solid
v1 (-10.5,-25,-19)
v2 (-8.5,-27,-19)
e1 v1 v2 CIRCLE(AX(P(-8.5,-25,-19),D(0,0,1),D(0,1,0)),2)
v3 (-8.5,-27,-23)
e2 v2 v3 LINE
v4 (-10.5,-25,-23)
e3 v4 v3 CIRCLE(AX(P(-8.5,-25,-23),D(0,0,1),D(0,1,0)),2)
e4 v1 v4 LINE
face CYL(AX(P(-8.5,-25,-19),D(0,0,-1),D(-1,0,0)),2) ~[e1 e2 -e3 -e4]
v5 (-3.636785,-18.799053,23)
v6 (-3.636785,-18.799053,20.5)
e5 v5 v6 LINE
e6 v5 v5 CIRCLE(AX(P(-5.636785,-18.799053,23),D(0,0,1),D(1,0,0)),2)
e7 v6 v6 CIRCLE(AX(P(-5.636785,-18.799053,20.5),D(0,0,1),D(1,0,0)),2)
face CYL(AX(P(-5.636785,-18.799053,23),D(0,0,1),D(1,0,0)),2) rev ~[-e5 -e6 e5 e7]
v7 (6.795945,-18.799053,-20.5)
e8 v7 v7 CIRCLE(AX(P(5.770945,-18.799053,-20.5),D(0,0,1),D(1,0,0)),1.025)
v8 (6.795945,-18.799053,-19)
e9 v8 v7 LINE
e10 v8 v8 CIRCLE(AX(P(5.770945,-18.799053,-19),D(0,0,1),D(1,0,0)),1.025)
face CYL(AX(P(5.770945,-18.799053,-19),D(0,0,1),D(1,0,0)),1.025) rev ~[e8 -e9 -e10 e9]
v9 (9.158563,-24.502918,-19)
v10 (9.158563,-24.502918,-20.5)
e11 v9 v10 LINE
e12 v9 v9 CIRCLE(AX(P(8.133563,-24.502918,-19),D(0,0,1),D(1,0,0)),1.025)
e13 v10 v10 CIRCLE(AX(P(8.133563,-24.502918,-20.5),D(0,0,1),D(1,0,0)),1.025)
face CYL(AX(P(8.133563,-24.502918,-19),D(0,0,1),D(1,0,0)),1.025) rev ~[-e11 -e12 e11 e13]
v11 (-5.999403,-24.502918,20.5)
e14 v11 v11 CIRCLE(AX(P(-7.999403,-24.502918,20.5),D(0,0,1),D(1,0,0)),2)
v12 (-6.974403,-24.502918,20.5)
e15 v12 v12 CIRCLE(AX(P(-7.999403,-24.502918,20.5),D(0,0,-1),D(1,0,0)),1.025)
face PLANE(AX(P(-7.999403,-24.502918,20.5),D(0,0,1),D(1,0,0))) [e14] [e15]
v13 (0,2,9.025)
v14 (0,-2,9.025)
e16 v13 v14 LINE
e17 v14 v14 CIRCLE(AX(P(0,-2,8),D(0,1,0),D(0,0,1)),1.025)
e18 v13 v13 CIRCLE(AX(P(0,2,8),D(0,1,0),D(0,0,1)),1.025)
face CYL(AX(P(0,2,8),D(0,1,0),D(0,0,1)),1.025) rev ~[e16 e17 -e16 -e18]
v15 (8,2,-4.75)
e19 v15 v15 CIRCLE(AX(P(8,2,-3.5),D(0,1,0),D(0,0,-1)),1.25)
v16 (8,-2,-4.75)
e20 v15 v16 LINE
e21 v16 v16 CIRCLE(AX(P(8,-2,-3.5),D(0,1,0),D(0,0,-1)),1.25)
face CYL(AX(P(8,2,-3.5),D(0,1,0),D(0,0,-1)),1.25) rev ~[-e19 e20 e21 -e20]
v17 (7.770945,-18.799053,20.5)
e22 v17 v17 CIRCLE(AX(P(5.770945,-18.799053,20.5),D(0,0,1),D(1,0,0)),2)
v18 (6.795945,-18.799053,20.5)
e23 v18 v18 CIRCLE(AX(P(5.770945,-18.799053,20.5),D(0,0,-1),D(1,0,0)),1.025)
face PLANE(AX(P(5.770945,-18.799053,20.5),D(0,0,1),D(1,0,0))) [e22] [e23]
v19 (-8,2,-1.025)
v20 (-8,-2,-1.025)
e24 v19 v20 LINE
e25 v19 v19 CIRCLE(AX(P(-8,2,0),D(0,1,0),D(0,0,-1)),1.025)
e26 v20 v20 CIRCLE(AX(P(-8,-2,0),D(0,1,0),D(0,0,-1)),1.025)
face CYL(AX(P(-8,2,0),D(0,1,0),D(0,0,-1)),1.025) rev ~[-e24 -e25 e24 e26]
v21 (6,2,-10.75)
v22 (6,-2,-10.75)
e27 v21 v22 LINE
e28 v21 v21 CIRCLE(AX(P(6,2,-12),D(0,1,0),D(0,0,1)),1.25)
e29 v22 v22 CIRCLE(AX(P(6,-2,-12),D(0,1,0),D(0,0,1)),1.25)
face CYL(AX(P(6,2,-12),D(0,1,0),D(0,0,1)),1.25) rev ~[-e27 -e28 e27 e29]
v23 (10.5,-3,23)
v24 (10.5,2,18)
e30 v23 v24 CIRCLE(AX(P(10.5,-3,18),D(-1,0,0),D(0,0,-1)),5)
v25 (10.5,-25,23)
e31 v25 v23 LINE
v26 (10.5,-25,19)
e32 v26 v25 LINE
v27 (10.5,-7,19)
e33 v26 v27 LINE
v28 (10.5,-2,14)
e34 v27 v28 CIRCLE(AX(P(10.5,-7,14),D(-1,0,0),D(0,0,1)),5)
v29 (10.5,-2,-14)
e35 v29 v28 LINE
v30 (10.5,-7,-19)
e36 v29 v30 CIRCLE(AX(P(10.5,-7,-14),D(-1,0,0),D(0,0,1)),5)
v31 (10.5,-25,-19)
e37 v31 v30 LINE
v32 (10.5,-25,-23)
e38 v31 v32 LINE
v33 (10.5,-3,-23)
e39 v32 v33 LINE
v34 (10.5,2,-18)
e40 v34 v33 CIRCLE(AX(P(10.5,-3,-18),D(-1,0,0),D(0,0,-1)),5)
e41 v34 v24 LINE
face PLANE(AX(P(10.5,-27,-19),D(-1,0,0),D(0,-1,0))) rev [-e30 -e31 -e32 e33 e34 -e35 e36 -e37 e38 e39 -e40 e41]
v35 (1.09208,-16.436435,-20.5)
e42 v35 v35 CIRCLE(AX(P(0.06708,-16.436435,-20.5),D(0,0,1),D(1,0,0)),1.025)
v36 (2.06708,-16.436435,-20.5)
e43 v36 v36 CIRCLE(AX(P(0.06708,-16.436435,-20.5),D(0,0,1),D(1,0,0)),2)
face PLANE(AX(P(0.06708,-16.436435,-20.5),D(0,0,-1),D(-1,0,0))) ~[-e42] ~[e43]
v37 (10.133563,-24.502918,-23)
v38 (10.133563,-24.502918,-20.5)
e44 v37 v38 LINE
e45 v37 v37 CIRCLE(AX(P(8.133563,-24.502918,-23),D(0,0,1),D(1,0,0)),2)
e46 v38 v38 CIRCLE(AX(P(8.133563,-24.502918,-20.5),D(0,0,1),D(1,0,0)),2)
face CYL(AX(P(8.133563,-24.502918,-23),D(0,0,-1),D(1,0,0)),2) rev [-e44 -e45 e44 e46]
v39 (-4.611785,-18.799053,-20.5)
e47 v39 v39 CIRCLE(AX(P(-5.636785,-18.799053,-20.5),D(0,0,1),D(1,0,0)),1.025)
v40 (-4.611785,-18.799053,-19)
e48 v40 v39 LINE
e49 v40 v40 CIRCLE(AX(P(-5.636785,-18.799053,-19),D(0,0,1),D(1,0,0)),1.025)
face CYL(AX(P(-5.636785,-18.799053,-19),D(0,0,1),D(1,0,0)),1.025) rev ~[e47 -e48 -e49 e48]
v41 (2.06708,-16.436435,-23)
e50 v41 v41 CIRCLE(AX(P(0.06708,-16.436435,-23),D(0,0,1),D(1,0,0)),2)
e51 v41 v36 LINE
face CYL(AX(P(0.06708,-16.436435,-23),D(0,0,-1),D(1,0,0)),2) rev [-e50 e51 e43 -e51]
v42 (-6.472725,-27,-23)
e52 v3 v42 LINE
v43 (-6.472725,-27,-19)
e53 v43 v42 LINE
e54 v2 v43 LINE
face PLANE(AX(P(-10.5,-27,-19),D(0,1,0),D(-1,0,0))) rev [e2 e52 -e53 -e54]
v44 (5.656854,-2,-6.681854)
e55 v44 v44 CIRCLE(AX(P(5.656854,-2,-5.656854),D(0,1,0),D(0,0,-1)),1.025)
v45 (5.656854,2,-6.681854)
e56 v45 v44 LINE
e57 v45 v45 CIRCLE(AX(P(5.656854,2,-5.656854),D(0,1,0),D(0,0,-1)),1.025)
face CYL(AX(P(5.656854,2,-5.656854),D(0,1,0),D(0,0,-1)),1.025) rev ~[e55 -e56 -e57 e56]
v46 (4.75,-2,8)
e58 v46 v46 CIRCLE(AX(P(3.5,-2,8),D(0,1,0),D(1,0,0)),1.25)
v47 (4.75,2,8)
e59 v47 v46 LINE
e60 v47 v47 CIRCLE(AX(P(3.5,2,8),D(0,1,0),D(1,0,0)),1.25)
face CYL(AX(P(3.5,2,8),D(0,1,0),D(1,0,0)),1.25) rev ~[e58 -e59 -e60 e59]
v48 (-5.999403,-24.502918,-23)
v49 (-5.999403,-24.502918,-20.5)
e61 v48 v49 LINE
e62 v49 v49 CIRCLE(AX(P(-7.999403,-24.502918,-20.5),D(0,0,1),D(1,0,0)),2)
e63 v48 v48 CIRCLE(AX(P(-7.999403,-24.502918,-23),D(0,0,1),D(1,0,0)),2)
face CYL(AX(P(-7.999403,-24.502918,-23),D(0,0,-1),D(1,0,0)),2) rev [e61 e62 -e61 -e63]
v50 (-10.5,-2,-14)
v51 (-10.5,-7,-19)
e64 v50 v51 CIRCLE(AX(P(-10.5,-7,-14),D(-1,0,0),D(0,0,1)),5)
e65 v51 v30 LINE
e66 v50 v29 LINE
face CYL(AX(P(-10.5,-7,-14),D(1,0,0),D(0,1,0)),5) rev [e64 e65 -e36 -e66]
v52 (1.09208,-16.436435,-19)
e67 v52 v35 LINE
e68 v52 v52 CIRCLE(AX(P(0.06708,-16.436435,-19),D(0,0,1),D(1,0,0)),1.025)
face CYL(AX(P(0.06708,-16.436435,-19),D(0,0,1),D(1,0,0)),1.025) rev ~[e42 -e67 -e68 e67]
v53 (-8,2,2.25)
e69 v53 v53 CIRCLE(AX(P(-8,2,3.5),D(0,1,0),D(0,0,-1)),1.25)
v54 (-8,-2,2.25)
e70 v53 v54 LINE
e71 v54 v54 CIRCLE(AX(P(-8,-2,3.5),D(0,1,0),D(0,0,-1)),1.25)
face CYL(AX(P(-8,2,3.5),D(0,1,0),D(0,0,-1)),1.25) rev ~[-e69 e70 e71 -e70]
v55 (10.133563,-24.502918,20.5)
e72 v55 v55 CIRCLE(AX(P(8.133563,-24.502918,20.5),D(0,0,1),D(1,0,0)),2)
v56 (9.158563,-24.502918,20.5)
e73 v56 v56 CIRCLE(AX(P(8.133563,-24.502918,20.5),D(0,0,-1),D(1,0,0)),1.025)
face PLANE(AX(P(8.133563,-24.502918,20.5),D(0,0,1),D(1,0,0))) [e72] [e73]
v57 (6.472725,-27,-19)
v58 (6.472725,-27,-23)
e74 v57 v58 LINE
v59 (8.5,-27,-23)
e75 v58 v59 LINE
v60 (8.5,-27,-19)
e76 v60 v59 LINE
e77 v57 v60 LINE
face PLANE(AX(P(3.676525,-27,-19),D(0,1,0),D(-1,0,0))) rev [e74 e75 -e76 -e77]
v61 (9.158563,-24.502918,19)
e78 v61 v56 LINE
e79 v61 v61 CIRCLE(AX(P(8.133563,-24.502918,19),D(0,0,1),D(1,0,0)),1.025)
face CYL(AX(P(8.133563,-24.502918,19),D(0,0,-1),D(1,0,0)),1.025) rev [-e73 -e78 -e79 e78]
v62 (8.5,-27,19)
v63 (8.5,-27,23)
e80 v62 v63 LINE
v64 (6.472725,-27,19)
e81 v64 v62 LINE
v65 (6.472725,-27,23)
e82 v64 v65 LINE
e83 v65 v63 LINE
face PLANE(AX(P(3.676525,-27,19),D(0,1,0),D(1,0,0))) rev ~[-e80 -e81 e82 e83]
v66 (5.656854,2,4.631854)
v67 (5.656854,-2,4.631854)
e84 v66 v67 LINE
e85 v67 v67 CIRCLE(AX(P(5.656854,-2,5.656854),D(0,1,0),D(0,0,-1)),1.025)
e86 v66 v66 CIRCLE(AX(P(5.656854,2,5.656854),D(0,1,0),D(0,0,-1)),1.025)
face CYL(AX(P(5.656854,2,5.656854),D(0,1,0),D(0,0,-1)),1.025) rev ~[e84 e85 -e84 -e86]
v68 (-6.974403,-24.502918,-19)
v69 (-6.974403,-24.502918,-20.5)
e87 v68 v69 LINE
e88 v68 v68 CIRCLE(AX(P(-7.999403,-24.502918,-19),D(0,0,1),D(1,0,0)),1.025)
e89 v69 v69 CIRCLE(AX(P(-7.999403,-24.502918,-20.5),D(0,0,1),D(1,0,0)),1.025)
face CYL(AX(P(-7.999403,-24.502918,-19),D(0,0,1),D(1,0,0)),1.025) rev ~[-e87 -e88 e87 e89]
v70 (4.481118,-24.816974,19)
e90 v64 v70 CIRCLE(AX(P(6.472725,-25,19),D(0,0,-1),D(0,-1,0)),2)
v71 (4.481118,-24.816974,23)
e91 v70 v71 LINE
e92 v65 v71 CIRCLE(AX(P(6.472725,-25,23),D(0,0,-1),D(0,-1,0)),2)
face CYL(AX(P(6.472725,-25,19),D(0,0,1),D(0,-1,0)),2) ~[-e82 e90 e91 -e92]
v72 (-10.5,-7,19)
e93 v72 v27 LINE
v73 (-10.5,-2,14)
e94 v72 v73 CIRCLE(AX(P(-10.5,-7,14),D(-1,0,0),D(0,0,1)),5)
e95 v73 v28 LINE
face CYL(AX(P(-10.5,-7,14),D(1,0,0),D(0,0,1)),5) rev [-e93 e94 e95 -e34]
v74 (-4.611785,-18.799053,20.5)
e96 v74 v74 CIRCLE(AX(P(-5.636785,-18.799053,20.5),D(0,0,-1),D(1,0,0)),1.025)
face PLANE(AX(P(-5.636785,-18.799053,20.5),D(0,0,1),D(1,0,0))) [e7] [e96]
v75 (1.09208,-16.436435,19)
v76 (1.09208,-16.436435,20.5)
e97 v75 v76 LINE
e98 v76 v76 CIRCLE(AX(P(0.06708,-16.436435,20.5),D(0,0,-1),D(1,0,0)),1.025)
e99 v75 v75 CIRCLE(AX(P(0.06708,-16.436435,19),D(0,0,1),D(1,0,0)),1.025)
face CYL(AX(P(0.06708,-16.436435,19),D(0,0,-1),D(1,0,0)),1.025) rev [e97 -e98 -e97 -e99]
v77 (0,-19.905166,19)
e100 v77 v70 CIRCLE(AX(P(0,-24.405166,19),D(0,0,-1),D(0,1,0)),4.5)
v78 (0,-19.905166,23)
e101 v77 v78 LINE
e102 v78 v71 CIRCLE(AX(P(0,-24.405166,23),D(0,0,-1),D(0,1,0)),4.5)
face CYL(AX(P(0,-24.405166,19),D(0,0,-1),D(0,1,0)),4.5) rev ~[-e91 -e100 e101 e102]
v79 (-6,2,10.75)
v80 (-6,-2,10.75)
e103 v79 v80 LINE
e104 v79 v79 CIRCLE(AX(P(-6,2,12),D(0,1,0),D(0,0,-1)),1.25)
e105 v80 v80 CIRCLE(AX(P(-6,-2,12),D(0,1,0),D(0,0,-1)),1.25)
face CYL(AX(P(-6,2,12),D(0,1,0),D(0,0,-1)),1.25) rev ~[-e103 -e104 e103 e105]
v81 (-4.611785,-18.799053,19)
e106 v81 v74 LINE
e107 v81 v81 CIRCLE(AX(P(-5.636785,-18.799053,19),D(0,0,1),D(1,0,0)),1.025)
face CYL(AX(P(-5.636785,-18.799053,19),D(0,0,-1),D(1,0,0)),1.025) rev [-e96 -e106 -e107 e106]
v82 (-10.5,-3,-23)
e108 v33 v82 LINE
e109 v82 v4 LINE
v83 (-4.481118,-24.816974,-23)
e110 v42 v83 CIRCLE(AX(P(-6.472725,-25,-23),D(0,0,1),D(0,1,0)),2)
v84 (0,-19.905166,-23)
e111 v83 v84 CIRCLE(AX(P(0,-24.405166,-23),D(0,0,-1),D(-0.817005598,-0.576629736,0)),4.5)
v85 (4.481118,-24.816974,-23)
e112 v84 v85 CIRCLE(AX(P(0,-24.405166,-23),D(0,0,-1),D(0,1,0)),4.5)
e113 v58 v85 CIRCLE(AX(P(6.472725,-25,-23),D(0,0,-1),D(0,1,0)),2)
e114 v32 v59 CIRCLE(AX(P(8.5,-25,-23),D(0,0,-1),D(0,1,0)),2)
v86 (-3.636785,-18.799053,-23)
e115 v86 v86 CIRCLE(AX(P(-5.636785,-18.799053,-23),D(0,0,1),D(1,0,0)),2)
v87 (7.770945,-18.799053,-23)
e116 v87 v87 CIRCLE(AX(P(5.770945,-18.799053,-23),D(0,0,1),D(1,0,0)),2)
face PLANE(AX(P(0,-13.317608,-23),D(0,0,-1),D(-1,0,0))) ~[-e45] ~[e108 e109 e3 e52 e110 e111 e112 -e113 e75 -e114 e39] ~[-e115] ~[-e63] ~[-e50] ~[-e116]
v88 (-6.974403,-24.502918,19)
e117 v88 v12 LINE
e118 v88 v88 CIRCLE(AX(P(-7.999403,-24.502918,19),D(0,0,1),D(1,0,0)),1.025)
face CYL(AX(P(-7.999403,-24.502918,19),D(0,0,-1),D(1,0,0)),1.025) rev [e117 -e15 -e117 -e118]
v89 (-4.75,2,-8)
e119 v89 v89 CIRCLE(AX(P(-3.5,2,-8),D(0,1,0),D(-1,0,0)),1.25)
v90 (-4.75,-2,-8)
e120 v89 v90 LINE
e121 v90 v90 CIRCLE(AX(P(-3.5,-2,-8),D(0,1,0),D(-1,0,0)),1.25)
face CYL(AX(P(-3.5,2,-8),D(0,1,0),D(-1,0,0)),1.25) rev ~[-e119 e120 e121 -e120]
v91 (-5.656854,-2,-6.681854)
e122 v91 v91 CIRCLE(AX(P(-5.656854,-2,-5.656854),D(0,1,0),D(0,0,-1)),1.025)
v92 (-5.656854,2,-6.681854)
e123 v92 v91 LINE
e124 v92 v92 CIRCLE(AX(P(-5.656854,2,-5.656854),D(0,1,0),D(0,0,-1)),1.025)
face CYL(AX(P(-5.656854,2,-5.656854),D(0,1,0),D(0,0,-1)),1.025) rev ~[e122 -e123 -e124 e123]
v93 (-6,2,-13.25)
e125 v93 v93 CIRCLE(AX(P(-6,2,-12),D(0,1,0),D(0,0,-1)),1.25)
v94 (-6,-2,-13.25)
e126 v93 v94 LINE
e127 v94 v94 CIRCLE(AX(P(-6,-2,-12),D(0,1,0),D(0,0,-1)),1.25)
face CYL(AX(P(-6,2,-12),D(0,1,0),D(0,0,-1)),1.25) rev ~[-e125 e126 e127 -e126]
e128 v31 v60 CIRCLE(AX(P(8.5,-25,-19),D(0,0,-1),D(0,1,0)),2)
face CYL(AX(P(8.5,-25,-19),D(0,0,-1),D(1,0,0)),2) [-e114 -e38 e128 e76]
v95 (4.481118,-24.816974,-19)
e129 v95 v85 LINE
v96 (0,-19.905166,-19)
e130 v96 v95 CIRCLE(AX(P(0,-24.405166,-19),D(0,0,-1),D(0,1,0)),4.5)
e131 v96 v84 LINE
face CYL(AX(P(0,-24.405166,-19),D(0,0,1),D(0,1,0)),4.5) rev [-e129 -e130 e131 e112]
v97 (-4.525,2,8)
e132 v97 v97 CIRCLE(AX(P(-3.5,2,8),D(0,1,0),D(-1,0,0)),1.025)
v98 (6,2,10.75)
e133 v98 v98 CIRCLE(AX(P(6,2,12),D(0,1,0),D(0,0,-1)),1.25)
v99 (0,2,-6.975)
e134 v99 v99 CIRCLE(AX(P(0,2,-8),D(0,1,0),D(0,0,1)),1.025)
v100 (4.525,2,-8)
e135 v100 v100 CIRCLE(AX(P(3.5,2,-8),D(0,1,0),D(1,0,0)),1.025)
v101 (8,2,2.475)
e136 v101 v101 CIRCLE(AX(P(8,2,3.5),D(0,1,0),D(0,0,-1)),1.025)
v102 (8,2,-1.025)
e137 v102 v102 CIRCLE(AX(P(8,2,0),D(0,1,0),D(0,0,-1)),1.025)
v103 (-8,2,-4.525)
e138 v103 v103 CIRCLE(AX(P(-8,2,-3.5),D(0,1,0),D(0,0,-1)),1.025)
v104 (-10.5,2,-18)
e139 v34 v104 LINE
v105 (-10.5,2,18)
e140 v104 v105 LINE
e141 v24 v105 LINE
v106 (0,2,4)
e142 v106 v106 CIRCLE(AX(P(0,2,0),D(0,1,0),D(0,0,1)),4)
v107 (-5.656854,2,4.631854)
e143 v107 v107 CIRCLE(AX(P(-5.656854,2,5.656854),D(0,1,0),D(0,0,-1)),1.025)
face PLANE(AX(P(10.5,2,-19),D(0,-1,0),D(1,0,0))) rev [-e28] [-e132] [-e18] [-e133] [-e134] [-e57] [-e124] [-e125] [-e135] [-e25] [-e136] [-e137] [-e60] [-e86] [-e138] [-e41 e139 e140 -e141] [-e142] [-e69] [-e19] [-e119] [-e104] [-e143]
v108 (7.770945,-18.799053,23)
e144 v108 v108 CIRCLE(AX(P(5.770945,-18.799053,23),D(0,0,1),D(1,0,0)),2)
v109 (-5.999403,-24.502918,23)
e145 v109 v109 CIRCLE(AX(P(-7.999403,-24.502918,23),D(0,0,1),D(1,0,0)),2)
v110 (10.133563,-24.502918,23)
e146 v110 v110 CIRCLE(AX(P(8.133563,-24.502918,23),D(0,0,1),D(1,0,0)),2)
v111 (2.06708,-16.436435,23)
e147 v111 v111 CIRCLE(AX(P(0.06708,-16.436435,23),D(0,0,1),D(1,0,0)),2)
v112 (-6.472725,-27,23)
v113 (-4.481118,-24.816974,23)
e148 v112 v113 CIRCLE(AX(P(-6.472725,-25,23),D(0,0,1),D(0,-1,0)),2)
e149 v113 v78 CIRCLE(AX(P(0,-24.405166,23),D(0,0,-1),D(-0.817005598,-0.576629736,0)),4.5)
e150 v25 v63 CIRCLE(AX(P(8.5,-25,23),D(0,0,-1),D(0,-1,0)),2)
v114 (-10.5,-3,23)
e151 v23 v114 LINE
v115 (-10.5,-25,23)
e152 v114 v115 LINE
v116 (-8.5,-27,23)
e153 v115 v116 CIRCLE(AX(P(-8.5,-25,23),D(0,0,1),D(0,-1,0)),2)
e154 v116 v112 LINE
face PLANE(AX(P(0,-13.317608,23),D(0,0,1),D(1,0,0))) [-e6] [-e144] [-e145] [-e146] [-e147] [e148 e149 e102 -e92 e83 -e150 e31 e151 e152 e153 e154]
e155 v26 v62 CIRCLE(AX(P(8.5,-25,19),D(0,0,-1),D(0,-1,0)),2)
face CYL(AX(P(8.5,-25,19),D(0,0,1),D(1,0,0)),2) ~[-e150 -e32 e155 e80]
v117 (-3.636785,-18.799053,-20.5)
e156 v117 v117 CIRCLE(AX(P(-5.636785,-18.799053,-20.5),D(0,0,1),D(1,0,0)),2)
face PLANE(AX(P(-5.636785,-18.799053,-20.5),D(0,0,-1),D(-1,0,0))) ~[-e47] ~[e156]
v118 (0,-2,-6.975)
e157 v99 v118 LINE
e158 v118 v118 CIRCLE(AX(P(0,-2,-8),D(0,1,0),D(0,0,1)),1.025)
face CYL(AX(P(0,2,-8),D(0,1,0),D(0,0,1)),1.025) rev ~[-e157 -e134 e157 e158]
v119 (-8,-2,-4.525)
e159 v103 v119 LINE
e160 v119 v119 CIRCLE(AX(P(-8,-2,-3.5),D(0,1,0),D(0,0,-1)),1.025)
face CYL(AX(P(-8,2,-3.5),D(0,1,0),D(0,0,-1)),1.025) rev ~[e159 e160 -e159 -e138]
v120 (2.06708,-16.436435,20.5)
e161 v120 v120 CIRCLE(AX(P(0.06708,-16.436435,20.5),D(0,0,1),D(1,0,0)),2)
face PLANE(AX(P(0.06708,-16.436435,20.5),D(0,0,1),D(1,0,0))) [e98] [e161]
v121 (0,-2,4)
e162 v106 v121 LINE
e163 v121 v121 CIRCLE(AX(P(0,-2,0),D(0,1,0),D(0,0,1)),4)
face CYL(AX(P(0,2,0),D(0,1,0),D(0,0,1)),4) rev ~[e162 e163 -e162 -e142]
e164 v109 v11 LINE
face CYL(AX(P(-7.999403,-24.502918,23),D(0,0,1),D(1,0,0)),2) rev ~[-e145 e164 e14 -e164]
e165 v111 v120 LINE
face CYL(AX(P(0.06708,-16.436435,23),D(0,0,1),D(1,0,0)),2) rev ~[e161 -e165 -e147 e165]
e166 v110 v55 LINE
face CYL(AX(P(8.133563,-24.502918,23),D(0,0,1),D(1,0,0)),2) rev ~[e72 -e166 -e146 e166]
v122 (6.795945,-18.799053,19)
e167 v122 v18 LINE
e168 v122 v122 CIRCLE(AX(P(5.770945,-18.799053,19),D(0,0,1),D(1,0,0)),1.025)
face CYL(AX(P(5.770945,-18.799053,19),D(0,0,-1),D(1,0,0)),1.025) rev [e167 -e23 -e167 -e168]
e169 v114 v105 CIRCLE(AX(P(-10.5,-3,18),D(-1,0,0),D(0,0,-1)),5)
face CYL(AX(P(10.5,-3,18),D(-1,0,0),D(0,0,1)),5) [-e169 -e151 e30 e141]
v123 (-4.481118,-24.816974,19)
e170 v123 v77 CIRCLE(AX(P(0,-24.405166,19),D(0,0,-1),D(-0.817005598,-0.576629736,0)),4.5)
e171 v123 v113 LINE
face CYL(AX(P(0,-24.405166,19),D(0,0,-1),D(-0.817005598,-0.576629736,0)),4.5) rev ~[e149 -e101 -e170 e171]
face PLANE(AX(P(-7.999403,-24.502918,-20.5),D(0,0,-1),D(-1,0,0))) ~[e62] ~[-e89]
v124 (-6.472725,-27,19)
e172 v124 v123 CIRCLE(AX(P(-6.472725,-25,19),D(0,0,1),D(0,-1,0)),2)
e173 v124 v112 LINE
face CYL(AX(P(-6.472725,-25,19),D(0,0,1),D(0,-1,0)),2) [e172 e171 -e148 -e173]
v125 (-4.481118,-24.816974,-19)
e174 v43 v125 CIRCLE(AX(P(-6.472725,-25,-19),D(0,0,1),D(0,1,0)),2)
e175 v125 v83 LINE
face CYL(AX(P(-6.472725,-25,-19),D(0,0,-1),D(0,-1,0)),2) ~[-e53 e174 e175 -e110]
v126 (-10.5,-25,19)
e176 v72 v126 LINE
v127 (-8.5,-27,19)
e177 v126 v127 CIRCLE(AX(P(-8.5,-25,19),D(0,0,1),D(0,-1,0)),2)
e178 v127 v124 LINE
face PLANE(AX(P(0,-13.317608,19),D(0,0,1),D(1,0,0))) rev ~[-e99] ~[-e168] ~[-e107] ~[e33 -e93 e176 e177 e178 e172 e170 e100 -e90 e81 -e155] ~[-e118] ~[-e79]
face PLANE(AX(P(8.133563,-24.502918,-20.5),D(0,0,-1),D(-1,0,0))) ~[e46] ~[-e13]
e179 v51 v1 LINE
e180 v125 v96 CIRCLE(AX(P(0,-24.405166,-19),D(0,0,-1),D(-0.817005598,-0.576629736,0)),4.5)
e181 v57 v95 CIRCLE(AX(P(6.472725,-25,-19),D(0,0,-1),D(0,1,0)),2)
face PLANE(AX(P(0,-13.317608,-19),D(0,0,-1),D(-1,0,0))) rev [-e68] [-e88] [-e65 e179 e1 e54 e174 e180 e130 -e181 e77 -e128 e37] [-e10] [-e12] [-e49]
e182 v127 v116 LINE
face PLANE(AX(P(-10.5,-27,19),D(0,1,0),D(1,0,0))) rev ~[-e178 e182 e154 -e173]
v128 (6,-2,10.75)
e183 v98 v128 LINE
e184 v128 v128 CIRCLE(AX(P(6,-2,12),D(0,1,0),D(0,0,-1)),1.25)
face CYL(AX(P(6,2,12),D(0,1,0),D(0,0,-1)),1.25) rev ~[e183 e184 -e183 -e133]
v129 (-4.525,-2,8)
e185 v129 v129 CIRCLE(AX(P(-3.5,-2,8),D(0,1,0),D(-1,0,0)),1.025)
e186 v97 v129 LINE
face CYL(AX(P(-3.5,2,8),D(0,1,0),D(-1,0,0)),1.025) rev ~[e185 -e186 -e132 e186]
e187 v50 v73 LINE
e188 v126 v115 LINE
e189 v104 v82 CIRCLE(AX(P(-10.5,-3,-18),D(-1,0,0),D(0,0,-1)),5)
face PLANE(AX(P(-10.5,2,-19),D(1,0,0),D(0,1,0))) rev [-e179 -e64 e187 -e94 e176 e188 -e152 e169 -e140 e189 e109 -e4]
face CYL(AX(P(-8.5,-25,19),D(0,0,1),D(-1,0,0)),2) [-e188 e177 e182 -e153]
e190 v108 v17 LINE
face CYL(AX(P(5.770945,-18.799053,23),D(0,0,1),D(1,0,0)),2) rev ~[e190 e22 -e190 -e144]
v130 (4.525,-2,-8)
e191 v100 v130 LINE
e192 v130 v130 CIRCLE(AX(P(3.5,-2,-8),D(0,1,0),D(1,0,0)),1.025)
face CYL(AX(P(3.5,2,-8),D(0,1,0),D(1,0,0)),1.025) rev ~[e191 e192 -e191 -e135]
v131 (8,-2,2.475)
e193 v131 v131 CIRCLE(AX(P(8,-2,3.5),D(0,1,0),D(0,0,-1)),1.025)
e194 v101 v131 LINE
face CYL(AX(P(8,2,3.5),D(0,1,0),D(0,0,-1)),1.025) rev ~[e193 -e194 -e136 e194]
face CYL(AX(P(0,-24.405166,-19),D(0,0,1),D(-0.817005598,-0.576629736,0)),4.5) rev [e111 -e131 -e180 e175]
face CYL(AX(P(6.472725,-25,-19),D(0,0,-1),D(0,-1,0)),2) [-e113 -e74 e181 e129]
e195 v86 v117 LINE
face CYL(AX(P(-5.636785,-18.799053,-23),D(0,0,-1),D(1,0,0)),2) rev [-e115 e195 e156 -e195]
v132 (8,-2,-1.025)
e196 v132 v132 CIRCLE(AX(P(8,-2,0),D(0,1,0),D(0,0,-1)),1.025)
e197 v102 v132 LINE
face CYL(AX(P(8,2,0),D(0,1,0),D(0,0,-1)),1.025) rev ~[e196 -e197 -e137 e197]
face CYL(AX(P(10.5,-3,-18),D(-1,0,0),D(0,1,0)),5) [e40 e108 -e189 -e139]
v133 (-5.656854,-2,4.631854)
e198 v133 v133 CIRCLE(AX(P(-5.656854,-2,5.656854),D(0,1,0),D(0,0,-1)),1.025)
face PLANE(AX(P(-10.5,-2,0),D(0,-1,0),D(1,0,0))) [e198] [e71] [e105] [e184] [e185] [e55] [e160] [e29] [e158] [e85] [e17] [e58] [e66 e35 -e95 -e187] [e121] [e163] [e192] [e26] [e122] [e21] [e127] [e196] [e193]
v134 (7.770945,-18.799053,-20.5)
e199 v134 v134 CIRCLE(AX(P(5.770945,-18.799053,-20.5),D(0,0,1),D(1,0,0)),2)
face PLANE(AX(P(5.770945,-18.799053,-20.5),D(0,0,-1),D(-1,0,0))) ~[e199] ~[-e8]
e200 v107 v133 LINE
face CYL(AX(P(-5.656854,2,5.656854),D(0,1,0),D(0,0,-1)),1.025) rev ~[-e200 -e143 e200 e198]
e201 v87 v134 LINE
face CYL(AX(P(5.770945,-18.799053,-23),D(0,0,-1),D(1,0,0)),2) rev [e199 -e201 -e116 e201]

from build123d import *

# Parameters (mm, degrees)
SKETCH4_W           = 21
SKETCH4_H           = 4
BOSS_EXTRUDE3_DEPTH = 19
SKETCH3_R           = 1.025
BOSS_EXTRUDE2_DEPTH = 4
SKETCH7_R           = 2
CUT_EXTRUDE2_DEPTH  = 2.5
SKETCH6_R           = 4
CUT_EXTRUDE1_DEPTH  = 39.474017206
FILLET2_R           = 5
FILLET3_R           = 5
FILLET4_R           = 2


with BuildPart() as part:
    # Sketch4 → Boss-Extrude3 (new, symmetric)
    with BuildSketch(Plane.XY):
        Rectangle(SKETCH4_W, SKETCH4_H)
    extrude(amount=BOSS_EXTRUDE3_DEPTH, both=True)

    # Sketch3 → Boss-Extrude2 (add)
    with BuildSketch(Plane.XY.offset(19)):
        with BuildLine():
            Line((10.5, -27), (10.5, 2))
            Line((10.5, 2), (-10.5, 2))
            Line((-10.5, 2), (-10.5, -27))
            Line((-10.5, -27), (-3.676525192, -27))
            ThreePointArc((-3.676525192, -27), (-3.995419387, -22.334749823), (0, -19.905166188))
            ThreePointArc((0, -19.905166188), (3.995419387, -22.334749823), (3.676525192, -27))
            Line((3.676525192, -27), (10.5, -27))
        make_face()
        with Locations((-7.999402765, -24.502917938)):
            Circle(SKETCH3_R, mode=Mode.SUBTRACT)
        with Locations((-5.636784611, -18.799053148)):
            Circle(SKETCH3_R, mode=Mode.SUBTRACT)
        with Locations((8.133563123, -24.502917938)):
            Circle(SKETCH3_R, mode=Mode.SUBTRACT)
        with Locations((0.067080179, -16.436434994)):
            Circle(SKETCH3_R, mode=Mode.SUBTRACT)
        with Locations((5.770944969, -18.799053148)):
            Circle(SKETCH3_R, mode=Mode.SUBTRACT)
    boss_extrude2 = extrude(amount=BOSS_EXTRUDE2_DEPTH)

    # Sketch7 → Cut-Extrude2 (cut)
    with BuildSketch(Plane.XY.offset(23)):
        with Locations((-7.999402765, -24.502917938)):
            Circle(SKETCH7_R)
        with Locations((-5.636784611, -18.799053148)):
            Circle(SKETCH7_R)
        with Locations((0.067080179, -16.436434994)):
            Circle(SKETCH7_R)
        with Locations((5.770944969, -18.799053148)):
            Circle(SKETCH7_R)
        with Locations((8.133563123, -24.502917938)):
            Circle(SKETCH7_R)
    cut_extrude2 = extrude(amount=-CUT_EXTRUDE2_DEPTH, mode=Mode.SUBTRACT)

    # Mirror1: Boss-Extrude2, Cut-Extrude2 across plane
    add(boss_extrude2.mirror(Plane.XY))
    add(cut_extrude2.mirror(Plane.XY), mode=Mode.SUBTRACT)

    # Sketch6 → Cut-Extrude1 (cut, through all)
    with BuildSketch(Plane(origin=(0, 2, 0), x_dir=(1, 0, 0), z_dir=(0, 1, 0))):
        with Locations(Location((0, 0, 0), (0, 0, 270))):
            Circle(SKETCH6_R)
        with BuildLine():
            ThreePointArc((0, 9.025), (-1.025, 8), (0, 6.975))
            ThreePointArc((0, 6.975), (1.025, 8), (0, 9.025))
        make_face()
        with BuildLine():
            ThreePointArc((-6, 10.75), (-4.75, 12), (-6, 13.25))
            ThreePointArc((-6, 13.25), (-7.25, 12), (-6, 10.75))
        make_face()
        with BuildLine():
            ThreePointArc((-2.25, 8), (-3.5, 9.25), (-4.75, 8))
            ThreePointArc((-4.75, 8), (-3.5, 6.75), (-2.25, 8))
        make_face()
        with BuildLine():
            ThreePointArc((-5.656854249, 4.631854249), (-4.631854249, 5.656854249), (-5.656854249, 6.681854249))
            ThreePointArc((-5.656854249, 6.681854249), (-6.681854249, 5.656854249), (-5.656854249, 4.631854249))
        make_face()
        with BuildLine():
            ThreePointArc((-8, 2.475), (-6.975, 3.5), (-8, 4.525))
            ThreePointArc((-8, 4.525), (-9.025, 3.5), (-8, 2.475))
        make_face()
        with BuildLine():
            ThreePointArc((-2.475, -8), (-3.5, -6.975), (-4.525, -8))
            ThreePointArc((-4.525, -8), (-3.5, -9.025), (-2.475, -8))
        make_face()
        with BuildLine():
            ThreePointArc((0, -6.975), (-1.025, -8), (0, -9.025))
            ThreePointArc((0, -9.025), (1.025, -8), (0, -6.975))
        make_face()
        with BuildLine():
            ThreePointArc((-8, -1.025), (-6.975, 0), (-8, 1.025))
            ThreePointArc((-8, 1.025), (-9.025, 0), (-8, -1.025))
        make_face()
        with BuildLine():
            ThreePointArc((-8, -4.75), (-6.75, -3.5), (-8, -2.25))
            ThreePointArc((-8, -2.25), (-9.25, -3.5), (-8, -4.75))
        make_face()
        with BuildLine():
            ThreePointArc((-5.656854249, -6.681854249), (-4.631854249, -5.656854249), (-5.656854249, -4.631854249))
            ThreePointArc((-5.656854249, -4.631854249), (-6.681854249, -5.656854249), (-5.656854249, -6.681854249))
        make_face()
        with BuildLine():
            ThreePointArc((-6, -13.25), (-4.75, -12), (-6, -10.75))
            ThreePointArc((-6, -10.75), (-7.25, -12), (-6, -13.25))
        make_face()
        with BuildLine():
            ThreePointArc((6, 13.25), (4.75, 12), (6, 10.75))
            ThreePointArc((6, 10.75), (7.25, 12), (6, 13.25))
        make_face()
        with BuildLine():
            ThreePointArc((2.475, 8), (3.5, 6.975), (4.525, 8))
            ThreePointArc((4.525, 8), (3.5, 9.025), (2.475, 8))
        make_face()
        with BuildLine():
            ThreePointArc((5.656854249, 4.631854249), (6.681854249, 5.656854249), (5.656854249, 6.681854249))
            ThreePointArc((5.656854249, 6.681854249), (4.631854249, 5.656854249), (5.656854249, 4.631854249))
        make_face()
        with BuildLine():
            ThreePointArc((8, 2.25), (9.25, 3.5), (8, 4.75))
            ThreePointArc((8, 4.75), (6.75, 3.5), (8, 2.25))
        make_face()
        with BuildLine():
            ThreePointArc((8, -1.025), (9.025, 0), (8, 1.025))
            ThreePointArc((8, 1.025), (6.975, 0), (8, -1.025))
        make_face()
        with BuildLine():
            ThreePointArc((8, -4.525), (9.025, -3.5), (8, -2.475))
            ThreePointArc((8, -2.475), (6.975, -3.5), (8, -4.525))
        make_face()
        with BuildLine():
            ThreePointArc((5.656854249, -6.681854249), (6.681854249, -5.656854249), (5.656854249, -4.631854249))
            ThreePointArc((5.656854249, -4.631854249), (4.631854249, -5.656854249), (5.656854249, -6.681854249))
        make_face()
        with BuildLine():
            ThreePointArc((2.25, -8), (3.5, -9.25), (4.75, -8))
            ThreePointArc((4.75, -8), (3.5, -6.75), (2.25, -8))
        make_face()
        with BuildLine():
            ThreePointArc((6, -13.25), (7.25, -12), (6, -10.75))
            ThreePointArc((6, -10.75), (4.75, -12), (6, -13.25))
        make_face()
    extrude(amount=-CUT_EXTRUDE1_DEPTH, mode=Mode.SUBTRACT)

    # Fillet2
    fillet2_edges = [part.edges().sort_by_distance(p)[0] for p in [
        (0, -2, 19),
        (0, -2, -19),
    ]]
    fillet(fillet2_edges, radius=FILLET2_R)

    # Fillet3
    fillet3_edges = [part.edges().sort_by_distance(p)[0] for p in [
        (0, 2, 23),
        (0, 2, -23),
    ]]
    fillet(fillet3_edges, radius=FILLET3_R)

    # Fillet4
    fillet4_edges = [part.edges().sort_by_distance(p)[0] for p in [
        (-10.5, -27, 21),
        (-3.676525192, -27, 21),
        (3.676525192, -27, 21),
        (10.5, -27, 21),
        (-3.676525192, -27, -21),
        (-10.5, -27, -21),
        (10.5, -27, -21),
        (3.676525192, -27, -21),
    ]]
    fillet(fillet4_edges, radius=FILLET4_R)


solid = part.part
